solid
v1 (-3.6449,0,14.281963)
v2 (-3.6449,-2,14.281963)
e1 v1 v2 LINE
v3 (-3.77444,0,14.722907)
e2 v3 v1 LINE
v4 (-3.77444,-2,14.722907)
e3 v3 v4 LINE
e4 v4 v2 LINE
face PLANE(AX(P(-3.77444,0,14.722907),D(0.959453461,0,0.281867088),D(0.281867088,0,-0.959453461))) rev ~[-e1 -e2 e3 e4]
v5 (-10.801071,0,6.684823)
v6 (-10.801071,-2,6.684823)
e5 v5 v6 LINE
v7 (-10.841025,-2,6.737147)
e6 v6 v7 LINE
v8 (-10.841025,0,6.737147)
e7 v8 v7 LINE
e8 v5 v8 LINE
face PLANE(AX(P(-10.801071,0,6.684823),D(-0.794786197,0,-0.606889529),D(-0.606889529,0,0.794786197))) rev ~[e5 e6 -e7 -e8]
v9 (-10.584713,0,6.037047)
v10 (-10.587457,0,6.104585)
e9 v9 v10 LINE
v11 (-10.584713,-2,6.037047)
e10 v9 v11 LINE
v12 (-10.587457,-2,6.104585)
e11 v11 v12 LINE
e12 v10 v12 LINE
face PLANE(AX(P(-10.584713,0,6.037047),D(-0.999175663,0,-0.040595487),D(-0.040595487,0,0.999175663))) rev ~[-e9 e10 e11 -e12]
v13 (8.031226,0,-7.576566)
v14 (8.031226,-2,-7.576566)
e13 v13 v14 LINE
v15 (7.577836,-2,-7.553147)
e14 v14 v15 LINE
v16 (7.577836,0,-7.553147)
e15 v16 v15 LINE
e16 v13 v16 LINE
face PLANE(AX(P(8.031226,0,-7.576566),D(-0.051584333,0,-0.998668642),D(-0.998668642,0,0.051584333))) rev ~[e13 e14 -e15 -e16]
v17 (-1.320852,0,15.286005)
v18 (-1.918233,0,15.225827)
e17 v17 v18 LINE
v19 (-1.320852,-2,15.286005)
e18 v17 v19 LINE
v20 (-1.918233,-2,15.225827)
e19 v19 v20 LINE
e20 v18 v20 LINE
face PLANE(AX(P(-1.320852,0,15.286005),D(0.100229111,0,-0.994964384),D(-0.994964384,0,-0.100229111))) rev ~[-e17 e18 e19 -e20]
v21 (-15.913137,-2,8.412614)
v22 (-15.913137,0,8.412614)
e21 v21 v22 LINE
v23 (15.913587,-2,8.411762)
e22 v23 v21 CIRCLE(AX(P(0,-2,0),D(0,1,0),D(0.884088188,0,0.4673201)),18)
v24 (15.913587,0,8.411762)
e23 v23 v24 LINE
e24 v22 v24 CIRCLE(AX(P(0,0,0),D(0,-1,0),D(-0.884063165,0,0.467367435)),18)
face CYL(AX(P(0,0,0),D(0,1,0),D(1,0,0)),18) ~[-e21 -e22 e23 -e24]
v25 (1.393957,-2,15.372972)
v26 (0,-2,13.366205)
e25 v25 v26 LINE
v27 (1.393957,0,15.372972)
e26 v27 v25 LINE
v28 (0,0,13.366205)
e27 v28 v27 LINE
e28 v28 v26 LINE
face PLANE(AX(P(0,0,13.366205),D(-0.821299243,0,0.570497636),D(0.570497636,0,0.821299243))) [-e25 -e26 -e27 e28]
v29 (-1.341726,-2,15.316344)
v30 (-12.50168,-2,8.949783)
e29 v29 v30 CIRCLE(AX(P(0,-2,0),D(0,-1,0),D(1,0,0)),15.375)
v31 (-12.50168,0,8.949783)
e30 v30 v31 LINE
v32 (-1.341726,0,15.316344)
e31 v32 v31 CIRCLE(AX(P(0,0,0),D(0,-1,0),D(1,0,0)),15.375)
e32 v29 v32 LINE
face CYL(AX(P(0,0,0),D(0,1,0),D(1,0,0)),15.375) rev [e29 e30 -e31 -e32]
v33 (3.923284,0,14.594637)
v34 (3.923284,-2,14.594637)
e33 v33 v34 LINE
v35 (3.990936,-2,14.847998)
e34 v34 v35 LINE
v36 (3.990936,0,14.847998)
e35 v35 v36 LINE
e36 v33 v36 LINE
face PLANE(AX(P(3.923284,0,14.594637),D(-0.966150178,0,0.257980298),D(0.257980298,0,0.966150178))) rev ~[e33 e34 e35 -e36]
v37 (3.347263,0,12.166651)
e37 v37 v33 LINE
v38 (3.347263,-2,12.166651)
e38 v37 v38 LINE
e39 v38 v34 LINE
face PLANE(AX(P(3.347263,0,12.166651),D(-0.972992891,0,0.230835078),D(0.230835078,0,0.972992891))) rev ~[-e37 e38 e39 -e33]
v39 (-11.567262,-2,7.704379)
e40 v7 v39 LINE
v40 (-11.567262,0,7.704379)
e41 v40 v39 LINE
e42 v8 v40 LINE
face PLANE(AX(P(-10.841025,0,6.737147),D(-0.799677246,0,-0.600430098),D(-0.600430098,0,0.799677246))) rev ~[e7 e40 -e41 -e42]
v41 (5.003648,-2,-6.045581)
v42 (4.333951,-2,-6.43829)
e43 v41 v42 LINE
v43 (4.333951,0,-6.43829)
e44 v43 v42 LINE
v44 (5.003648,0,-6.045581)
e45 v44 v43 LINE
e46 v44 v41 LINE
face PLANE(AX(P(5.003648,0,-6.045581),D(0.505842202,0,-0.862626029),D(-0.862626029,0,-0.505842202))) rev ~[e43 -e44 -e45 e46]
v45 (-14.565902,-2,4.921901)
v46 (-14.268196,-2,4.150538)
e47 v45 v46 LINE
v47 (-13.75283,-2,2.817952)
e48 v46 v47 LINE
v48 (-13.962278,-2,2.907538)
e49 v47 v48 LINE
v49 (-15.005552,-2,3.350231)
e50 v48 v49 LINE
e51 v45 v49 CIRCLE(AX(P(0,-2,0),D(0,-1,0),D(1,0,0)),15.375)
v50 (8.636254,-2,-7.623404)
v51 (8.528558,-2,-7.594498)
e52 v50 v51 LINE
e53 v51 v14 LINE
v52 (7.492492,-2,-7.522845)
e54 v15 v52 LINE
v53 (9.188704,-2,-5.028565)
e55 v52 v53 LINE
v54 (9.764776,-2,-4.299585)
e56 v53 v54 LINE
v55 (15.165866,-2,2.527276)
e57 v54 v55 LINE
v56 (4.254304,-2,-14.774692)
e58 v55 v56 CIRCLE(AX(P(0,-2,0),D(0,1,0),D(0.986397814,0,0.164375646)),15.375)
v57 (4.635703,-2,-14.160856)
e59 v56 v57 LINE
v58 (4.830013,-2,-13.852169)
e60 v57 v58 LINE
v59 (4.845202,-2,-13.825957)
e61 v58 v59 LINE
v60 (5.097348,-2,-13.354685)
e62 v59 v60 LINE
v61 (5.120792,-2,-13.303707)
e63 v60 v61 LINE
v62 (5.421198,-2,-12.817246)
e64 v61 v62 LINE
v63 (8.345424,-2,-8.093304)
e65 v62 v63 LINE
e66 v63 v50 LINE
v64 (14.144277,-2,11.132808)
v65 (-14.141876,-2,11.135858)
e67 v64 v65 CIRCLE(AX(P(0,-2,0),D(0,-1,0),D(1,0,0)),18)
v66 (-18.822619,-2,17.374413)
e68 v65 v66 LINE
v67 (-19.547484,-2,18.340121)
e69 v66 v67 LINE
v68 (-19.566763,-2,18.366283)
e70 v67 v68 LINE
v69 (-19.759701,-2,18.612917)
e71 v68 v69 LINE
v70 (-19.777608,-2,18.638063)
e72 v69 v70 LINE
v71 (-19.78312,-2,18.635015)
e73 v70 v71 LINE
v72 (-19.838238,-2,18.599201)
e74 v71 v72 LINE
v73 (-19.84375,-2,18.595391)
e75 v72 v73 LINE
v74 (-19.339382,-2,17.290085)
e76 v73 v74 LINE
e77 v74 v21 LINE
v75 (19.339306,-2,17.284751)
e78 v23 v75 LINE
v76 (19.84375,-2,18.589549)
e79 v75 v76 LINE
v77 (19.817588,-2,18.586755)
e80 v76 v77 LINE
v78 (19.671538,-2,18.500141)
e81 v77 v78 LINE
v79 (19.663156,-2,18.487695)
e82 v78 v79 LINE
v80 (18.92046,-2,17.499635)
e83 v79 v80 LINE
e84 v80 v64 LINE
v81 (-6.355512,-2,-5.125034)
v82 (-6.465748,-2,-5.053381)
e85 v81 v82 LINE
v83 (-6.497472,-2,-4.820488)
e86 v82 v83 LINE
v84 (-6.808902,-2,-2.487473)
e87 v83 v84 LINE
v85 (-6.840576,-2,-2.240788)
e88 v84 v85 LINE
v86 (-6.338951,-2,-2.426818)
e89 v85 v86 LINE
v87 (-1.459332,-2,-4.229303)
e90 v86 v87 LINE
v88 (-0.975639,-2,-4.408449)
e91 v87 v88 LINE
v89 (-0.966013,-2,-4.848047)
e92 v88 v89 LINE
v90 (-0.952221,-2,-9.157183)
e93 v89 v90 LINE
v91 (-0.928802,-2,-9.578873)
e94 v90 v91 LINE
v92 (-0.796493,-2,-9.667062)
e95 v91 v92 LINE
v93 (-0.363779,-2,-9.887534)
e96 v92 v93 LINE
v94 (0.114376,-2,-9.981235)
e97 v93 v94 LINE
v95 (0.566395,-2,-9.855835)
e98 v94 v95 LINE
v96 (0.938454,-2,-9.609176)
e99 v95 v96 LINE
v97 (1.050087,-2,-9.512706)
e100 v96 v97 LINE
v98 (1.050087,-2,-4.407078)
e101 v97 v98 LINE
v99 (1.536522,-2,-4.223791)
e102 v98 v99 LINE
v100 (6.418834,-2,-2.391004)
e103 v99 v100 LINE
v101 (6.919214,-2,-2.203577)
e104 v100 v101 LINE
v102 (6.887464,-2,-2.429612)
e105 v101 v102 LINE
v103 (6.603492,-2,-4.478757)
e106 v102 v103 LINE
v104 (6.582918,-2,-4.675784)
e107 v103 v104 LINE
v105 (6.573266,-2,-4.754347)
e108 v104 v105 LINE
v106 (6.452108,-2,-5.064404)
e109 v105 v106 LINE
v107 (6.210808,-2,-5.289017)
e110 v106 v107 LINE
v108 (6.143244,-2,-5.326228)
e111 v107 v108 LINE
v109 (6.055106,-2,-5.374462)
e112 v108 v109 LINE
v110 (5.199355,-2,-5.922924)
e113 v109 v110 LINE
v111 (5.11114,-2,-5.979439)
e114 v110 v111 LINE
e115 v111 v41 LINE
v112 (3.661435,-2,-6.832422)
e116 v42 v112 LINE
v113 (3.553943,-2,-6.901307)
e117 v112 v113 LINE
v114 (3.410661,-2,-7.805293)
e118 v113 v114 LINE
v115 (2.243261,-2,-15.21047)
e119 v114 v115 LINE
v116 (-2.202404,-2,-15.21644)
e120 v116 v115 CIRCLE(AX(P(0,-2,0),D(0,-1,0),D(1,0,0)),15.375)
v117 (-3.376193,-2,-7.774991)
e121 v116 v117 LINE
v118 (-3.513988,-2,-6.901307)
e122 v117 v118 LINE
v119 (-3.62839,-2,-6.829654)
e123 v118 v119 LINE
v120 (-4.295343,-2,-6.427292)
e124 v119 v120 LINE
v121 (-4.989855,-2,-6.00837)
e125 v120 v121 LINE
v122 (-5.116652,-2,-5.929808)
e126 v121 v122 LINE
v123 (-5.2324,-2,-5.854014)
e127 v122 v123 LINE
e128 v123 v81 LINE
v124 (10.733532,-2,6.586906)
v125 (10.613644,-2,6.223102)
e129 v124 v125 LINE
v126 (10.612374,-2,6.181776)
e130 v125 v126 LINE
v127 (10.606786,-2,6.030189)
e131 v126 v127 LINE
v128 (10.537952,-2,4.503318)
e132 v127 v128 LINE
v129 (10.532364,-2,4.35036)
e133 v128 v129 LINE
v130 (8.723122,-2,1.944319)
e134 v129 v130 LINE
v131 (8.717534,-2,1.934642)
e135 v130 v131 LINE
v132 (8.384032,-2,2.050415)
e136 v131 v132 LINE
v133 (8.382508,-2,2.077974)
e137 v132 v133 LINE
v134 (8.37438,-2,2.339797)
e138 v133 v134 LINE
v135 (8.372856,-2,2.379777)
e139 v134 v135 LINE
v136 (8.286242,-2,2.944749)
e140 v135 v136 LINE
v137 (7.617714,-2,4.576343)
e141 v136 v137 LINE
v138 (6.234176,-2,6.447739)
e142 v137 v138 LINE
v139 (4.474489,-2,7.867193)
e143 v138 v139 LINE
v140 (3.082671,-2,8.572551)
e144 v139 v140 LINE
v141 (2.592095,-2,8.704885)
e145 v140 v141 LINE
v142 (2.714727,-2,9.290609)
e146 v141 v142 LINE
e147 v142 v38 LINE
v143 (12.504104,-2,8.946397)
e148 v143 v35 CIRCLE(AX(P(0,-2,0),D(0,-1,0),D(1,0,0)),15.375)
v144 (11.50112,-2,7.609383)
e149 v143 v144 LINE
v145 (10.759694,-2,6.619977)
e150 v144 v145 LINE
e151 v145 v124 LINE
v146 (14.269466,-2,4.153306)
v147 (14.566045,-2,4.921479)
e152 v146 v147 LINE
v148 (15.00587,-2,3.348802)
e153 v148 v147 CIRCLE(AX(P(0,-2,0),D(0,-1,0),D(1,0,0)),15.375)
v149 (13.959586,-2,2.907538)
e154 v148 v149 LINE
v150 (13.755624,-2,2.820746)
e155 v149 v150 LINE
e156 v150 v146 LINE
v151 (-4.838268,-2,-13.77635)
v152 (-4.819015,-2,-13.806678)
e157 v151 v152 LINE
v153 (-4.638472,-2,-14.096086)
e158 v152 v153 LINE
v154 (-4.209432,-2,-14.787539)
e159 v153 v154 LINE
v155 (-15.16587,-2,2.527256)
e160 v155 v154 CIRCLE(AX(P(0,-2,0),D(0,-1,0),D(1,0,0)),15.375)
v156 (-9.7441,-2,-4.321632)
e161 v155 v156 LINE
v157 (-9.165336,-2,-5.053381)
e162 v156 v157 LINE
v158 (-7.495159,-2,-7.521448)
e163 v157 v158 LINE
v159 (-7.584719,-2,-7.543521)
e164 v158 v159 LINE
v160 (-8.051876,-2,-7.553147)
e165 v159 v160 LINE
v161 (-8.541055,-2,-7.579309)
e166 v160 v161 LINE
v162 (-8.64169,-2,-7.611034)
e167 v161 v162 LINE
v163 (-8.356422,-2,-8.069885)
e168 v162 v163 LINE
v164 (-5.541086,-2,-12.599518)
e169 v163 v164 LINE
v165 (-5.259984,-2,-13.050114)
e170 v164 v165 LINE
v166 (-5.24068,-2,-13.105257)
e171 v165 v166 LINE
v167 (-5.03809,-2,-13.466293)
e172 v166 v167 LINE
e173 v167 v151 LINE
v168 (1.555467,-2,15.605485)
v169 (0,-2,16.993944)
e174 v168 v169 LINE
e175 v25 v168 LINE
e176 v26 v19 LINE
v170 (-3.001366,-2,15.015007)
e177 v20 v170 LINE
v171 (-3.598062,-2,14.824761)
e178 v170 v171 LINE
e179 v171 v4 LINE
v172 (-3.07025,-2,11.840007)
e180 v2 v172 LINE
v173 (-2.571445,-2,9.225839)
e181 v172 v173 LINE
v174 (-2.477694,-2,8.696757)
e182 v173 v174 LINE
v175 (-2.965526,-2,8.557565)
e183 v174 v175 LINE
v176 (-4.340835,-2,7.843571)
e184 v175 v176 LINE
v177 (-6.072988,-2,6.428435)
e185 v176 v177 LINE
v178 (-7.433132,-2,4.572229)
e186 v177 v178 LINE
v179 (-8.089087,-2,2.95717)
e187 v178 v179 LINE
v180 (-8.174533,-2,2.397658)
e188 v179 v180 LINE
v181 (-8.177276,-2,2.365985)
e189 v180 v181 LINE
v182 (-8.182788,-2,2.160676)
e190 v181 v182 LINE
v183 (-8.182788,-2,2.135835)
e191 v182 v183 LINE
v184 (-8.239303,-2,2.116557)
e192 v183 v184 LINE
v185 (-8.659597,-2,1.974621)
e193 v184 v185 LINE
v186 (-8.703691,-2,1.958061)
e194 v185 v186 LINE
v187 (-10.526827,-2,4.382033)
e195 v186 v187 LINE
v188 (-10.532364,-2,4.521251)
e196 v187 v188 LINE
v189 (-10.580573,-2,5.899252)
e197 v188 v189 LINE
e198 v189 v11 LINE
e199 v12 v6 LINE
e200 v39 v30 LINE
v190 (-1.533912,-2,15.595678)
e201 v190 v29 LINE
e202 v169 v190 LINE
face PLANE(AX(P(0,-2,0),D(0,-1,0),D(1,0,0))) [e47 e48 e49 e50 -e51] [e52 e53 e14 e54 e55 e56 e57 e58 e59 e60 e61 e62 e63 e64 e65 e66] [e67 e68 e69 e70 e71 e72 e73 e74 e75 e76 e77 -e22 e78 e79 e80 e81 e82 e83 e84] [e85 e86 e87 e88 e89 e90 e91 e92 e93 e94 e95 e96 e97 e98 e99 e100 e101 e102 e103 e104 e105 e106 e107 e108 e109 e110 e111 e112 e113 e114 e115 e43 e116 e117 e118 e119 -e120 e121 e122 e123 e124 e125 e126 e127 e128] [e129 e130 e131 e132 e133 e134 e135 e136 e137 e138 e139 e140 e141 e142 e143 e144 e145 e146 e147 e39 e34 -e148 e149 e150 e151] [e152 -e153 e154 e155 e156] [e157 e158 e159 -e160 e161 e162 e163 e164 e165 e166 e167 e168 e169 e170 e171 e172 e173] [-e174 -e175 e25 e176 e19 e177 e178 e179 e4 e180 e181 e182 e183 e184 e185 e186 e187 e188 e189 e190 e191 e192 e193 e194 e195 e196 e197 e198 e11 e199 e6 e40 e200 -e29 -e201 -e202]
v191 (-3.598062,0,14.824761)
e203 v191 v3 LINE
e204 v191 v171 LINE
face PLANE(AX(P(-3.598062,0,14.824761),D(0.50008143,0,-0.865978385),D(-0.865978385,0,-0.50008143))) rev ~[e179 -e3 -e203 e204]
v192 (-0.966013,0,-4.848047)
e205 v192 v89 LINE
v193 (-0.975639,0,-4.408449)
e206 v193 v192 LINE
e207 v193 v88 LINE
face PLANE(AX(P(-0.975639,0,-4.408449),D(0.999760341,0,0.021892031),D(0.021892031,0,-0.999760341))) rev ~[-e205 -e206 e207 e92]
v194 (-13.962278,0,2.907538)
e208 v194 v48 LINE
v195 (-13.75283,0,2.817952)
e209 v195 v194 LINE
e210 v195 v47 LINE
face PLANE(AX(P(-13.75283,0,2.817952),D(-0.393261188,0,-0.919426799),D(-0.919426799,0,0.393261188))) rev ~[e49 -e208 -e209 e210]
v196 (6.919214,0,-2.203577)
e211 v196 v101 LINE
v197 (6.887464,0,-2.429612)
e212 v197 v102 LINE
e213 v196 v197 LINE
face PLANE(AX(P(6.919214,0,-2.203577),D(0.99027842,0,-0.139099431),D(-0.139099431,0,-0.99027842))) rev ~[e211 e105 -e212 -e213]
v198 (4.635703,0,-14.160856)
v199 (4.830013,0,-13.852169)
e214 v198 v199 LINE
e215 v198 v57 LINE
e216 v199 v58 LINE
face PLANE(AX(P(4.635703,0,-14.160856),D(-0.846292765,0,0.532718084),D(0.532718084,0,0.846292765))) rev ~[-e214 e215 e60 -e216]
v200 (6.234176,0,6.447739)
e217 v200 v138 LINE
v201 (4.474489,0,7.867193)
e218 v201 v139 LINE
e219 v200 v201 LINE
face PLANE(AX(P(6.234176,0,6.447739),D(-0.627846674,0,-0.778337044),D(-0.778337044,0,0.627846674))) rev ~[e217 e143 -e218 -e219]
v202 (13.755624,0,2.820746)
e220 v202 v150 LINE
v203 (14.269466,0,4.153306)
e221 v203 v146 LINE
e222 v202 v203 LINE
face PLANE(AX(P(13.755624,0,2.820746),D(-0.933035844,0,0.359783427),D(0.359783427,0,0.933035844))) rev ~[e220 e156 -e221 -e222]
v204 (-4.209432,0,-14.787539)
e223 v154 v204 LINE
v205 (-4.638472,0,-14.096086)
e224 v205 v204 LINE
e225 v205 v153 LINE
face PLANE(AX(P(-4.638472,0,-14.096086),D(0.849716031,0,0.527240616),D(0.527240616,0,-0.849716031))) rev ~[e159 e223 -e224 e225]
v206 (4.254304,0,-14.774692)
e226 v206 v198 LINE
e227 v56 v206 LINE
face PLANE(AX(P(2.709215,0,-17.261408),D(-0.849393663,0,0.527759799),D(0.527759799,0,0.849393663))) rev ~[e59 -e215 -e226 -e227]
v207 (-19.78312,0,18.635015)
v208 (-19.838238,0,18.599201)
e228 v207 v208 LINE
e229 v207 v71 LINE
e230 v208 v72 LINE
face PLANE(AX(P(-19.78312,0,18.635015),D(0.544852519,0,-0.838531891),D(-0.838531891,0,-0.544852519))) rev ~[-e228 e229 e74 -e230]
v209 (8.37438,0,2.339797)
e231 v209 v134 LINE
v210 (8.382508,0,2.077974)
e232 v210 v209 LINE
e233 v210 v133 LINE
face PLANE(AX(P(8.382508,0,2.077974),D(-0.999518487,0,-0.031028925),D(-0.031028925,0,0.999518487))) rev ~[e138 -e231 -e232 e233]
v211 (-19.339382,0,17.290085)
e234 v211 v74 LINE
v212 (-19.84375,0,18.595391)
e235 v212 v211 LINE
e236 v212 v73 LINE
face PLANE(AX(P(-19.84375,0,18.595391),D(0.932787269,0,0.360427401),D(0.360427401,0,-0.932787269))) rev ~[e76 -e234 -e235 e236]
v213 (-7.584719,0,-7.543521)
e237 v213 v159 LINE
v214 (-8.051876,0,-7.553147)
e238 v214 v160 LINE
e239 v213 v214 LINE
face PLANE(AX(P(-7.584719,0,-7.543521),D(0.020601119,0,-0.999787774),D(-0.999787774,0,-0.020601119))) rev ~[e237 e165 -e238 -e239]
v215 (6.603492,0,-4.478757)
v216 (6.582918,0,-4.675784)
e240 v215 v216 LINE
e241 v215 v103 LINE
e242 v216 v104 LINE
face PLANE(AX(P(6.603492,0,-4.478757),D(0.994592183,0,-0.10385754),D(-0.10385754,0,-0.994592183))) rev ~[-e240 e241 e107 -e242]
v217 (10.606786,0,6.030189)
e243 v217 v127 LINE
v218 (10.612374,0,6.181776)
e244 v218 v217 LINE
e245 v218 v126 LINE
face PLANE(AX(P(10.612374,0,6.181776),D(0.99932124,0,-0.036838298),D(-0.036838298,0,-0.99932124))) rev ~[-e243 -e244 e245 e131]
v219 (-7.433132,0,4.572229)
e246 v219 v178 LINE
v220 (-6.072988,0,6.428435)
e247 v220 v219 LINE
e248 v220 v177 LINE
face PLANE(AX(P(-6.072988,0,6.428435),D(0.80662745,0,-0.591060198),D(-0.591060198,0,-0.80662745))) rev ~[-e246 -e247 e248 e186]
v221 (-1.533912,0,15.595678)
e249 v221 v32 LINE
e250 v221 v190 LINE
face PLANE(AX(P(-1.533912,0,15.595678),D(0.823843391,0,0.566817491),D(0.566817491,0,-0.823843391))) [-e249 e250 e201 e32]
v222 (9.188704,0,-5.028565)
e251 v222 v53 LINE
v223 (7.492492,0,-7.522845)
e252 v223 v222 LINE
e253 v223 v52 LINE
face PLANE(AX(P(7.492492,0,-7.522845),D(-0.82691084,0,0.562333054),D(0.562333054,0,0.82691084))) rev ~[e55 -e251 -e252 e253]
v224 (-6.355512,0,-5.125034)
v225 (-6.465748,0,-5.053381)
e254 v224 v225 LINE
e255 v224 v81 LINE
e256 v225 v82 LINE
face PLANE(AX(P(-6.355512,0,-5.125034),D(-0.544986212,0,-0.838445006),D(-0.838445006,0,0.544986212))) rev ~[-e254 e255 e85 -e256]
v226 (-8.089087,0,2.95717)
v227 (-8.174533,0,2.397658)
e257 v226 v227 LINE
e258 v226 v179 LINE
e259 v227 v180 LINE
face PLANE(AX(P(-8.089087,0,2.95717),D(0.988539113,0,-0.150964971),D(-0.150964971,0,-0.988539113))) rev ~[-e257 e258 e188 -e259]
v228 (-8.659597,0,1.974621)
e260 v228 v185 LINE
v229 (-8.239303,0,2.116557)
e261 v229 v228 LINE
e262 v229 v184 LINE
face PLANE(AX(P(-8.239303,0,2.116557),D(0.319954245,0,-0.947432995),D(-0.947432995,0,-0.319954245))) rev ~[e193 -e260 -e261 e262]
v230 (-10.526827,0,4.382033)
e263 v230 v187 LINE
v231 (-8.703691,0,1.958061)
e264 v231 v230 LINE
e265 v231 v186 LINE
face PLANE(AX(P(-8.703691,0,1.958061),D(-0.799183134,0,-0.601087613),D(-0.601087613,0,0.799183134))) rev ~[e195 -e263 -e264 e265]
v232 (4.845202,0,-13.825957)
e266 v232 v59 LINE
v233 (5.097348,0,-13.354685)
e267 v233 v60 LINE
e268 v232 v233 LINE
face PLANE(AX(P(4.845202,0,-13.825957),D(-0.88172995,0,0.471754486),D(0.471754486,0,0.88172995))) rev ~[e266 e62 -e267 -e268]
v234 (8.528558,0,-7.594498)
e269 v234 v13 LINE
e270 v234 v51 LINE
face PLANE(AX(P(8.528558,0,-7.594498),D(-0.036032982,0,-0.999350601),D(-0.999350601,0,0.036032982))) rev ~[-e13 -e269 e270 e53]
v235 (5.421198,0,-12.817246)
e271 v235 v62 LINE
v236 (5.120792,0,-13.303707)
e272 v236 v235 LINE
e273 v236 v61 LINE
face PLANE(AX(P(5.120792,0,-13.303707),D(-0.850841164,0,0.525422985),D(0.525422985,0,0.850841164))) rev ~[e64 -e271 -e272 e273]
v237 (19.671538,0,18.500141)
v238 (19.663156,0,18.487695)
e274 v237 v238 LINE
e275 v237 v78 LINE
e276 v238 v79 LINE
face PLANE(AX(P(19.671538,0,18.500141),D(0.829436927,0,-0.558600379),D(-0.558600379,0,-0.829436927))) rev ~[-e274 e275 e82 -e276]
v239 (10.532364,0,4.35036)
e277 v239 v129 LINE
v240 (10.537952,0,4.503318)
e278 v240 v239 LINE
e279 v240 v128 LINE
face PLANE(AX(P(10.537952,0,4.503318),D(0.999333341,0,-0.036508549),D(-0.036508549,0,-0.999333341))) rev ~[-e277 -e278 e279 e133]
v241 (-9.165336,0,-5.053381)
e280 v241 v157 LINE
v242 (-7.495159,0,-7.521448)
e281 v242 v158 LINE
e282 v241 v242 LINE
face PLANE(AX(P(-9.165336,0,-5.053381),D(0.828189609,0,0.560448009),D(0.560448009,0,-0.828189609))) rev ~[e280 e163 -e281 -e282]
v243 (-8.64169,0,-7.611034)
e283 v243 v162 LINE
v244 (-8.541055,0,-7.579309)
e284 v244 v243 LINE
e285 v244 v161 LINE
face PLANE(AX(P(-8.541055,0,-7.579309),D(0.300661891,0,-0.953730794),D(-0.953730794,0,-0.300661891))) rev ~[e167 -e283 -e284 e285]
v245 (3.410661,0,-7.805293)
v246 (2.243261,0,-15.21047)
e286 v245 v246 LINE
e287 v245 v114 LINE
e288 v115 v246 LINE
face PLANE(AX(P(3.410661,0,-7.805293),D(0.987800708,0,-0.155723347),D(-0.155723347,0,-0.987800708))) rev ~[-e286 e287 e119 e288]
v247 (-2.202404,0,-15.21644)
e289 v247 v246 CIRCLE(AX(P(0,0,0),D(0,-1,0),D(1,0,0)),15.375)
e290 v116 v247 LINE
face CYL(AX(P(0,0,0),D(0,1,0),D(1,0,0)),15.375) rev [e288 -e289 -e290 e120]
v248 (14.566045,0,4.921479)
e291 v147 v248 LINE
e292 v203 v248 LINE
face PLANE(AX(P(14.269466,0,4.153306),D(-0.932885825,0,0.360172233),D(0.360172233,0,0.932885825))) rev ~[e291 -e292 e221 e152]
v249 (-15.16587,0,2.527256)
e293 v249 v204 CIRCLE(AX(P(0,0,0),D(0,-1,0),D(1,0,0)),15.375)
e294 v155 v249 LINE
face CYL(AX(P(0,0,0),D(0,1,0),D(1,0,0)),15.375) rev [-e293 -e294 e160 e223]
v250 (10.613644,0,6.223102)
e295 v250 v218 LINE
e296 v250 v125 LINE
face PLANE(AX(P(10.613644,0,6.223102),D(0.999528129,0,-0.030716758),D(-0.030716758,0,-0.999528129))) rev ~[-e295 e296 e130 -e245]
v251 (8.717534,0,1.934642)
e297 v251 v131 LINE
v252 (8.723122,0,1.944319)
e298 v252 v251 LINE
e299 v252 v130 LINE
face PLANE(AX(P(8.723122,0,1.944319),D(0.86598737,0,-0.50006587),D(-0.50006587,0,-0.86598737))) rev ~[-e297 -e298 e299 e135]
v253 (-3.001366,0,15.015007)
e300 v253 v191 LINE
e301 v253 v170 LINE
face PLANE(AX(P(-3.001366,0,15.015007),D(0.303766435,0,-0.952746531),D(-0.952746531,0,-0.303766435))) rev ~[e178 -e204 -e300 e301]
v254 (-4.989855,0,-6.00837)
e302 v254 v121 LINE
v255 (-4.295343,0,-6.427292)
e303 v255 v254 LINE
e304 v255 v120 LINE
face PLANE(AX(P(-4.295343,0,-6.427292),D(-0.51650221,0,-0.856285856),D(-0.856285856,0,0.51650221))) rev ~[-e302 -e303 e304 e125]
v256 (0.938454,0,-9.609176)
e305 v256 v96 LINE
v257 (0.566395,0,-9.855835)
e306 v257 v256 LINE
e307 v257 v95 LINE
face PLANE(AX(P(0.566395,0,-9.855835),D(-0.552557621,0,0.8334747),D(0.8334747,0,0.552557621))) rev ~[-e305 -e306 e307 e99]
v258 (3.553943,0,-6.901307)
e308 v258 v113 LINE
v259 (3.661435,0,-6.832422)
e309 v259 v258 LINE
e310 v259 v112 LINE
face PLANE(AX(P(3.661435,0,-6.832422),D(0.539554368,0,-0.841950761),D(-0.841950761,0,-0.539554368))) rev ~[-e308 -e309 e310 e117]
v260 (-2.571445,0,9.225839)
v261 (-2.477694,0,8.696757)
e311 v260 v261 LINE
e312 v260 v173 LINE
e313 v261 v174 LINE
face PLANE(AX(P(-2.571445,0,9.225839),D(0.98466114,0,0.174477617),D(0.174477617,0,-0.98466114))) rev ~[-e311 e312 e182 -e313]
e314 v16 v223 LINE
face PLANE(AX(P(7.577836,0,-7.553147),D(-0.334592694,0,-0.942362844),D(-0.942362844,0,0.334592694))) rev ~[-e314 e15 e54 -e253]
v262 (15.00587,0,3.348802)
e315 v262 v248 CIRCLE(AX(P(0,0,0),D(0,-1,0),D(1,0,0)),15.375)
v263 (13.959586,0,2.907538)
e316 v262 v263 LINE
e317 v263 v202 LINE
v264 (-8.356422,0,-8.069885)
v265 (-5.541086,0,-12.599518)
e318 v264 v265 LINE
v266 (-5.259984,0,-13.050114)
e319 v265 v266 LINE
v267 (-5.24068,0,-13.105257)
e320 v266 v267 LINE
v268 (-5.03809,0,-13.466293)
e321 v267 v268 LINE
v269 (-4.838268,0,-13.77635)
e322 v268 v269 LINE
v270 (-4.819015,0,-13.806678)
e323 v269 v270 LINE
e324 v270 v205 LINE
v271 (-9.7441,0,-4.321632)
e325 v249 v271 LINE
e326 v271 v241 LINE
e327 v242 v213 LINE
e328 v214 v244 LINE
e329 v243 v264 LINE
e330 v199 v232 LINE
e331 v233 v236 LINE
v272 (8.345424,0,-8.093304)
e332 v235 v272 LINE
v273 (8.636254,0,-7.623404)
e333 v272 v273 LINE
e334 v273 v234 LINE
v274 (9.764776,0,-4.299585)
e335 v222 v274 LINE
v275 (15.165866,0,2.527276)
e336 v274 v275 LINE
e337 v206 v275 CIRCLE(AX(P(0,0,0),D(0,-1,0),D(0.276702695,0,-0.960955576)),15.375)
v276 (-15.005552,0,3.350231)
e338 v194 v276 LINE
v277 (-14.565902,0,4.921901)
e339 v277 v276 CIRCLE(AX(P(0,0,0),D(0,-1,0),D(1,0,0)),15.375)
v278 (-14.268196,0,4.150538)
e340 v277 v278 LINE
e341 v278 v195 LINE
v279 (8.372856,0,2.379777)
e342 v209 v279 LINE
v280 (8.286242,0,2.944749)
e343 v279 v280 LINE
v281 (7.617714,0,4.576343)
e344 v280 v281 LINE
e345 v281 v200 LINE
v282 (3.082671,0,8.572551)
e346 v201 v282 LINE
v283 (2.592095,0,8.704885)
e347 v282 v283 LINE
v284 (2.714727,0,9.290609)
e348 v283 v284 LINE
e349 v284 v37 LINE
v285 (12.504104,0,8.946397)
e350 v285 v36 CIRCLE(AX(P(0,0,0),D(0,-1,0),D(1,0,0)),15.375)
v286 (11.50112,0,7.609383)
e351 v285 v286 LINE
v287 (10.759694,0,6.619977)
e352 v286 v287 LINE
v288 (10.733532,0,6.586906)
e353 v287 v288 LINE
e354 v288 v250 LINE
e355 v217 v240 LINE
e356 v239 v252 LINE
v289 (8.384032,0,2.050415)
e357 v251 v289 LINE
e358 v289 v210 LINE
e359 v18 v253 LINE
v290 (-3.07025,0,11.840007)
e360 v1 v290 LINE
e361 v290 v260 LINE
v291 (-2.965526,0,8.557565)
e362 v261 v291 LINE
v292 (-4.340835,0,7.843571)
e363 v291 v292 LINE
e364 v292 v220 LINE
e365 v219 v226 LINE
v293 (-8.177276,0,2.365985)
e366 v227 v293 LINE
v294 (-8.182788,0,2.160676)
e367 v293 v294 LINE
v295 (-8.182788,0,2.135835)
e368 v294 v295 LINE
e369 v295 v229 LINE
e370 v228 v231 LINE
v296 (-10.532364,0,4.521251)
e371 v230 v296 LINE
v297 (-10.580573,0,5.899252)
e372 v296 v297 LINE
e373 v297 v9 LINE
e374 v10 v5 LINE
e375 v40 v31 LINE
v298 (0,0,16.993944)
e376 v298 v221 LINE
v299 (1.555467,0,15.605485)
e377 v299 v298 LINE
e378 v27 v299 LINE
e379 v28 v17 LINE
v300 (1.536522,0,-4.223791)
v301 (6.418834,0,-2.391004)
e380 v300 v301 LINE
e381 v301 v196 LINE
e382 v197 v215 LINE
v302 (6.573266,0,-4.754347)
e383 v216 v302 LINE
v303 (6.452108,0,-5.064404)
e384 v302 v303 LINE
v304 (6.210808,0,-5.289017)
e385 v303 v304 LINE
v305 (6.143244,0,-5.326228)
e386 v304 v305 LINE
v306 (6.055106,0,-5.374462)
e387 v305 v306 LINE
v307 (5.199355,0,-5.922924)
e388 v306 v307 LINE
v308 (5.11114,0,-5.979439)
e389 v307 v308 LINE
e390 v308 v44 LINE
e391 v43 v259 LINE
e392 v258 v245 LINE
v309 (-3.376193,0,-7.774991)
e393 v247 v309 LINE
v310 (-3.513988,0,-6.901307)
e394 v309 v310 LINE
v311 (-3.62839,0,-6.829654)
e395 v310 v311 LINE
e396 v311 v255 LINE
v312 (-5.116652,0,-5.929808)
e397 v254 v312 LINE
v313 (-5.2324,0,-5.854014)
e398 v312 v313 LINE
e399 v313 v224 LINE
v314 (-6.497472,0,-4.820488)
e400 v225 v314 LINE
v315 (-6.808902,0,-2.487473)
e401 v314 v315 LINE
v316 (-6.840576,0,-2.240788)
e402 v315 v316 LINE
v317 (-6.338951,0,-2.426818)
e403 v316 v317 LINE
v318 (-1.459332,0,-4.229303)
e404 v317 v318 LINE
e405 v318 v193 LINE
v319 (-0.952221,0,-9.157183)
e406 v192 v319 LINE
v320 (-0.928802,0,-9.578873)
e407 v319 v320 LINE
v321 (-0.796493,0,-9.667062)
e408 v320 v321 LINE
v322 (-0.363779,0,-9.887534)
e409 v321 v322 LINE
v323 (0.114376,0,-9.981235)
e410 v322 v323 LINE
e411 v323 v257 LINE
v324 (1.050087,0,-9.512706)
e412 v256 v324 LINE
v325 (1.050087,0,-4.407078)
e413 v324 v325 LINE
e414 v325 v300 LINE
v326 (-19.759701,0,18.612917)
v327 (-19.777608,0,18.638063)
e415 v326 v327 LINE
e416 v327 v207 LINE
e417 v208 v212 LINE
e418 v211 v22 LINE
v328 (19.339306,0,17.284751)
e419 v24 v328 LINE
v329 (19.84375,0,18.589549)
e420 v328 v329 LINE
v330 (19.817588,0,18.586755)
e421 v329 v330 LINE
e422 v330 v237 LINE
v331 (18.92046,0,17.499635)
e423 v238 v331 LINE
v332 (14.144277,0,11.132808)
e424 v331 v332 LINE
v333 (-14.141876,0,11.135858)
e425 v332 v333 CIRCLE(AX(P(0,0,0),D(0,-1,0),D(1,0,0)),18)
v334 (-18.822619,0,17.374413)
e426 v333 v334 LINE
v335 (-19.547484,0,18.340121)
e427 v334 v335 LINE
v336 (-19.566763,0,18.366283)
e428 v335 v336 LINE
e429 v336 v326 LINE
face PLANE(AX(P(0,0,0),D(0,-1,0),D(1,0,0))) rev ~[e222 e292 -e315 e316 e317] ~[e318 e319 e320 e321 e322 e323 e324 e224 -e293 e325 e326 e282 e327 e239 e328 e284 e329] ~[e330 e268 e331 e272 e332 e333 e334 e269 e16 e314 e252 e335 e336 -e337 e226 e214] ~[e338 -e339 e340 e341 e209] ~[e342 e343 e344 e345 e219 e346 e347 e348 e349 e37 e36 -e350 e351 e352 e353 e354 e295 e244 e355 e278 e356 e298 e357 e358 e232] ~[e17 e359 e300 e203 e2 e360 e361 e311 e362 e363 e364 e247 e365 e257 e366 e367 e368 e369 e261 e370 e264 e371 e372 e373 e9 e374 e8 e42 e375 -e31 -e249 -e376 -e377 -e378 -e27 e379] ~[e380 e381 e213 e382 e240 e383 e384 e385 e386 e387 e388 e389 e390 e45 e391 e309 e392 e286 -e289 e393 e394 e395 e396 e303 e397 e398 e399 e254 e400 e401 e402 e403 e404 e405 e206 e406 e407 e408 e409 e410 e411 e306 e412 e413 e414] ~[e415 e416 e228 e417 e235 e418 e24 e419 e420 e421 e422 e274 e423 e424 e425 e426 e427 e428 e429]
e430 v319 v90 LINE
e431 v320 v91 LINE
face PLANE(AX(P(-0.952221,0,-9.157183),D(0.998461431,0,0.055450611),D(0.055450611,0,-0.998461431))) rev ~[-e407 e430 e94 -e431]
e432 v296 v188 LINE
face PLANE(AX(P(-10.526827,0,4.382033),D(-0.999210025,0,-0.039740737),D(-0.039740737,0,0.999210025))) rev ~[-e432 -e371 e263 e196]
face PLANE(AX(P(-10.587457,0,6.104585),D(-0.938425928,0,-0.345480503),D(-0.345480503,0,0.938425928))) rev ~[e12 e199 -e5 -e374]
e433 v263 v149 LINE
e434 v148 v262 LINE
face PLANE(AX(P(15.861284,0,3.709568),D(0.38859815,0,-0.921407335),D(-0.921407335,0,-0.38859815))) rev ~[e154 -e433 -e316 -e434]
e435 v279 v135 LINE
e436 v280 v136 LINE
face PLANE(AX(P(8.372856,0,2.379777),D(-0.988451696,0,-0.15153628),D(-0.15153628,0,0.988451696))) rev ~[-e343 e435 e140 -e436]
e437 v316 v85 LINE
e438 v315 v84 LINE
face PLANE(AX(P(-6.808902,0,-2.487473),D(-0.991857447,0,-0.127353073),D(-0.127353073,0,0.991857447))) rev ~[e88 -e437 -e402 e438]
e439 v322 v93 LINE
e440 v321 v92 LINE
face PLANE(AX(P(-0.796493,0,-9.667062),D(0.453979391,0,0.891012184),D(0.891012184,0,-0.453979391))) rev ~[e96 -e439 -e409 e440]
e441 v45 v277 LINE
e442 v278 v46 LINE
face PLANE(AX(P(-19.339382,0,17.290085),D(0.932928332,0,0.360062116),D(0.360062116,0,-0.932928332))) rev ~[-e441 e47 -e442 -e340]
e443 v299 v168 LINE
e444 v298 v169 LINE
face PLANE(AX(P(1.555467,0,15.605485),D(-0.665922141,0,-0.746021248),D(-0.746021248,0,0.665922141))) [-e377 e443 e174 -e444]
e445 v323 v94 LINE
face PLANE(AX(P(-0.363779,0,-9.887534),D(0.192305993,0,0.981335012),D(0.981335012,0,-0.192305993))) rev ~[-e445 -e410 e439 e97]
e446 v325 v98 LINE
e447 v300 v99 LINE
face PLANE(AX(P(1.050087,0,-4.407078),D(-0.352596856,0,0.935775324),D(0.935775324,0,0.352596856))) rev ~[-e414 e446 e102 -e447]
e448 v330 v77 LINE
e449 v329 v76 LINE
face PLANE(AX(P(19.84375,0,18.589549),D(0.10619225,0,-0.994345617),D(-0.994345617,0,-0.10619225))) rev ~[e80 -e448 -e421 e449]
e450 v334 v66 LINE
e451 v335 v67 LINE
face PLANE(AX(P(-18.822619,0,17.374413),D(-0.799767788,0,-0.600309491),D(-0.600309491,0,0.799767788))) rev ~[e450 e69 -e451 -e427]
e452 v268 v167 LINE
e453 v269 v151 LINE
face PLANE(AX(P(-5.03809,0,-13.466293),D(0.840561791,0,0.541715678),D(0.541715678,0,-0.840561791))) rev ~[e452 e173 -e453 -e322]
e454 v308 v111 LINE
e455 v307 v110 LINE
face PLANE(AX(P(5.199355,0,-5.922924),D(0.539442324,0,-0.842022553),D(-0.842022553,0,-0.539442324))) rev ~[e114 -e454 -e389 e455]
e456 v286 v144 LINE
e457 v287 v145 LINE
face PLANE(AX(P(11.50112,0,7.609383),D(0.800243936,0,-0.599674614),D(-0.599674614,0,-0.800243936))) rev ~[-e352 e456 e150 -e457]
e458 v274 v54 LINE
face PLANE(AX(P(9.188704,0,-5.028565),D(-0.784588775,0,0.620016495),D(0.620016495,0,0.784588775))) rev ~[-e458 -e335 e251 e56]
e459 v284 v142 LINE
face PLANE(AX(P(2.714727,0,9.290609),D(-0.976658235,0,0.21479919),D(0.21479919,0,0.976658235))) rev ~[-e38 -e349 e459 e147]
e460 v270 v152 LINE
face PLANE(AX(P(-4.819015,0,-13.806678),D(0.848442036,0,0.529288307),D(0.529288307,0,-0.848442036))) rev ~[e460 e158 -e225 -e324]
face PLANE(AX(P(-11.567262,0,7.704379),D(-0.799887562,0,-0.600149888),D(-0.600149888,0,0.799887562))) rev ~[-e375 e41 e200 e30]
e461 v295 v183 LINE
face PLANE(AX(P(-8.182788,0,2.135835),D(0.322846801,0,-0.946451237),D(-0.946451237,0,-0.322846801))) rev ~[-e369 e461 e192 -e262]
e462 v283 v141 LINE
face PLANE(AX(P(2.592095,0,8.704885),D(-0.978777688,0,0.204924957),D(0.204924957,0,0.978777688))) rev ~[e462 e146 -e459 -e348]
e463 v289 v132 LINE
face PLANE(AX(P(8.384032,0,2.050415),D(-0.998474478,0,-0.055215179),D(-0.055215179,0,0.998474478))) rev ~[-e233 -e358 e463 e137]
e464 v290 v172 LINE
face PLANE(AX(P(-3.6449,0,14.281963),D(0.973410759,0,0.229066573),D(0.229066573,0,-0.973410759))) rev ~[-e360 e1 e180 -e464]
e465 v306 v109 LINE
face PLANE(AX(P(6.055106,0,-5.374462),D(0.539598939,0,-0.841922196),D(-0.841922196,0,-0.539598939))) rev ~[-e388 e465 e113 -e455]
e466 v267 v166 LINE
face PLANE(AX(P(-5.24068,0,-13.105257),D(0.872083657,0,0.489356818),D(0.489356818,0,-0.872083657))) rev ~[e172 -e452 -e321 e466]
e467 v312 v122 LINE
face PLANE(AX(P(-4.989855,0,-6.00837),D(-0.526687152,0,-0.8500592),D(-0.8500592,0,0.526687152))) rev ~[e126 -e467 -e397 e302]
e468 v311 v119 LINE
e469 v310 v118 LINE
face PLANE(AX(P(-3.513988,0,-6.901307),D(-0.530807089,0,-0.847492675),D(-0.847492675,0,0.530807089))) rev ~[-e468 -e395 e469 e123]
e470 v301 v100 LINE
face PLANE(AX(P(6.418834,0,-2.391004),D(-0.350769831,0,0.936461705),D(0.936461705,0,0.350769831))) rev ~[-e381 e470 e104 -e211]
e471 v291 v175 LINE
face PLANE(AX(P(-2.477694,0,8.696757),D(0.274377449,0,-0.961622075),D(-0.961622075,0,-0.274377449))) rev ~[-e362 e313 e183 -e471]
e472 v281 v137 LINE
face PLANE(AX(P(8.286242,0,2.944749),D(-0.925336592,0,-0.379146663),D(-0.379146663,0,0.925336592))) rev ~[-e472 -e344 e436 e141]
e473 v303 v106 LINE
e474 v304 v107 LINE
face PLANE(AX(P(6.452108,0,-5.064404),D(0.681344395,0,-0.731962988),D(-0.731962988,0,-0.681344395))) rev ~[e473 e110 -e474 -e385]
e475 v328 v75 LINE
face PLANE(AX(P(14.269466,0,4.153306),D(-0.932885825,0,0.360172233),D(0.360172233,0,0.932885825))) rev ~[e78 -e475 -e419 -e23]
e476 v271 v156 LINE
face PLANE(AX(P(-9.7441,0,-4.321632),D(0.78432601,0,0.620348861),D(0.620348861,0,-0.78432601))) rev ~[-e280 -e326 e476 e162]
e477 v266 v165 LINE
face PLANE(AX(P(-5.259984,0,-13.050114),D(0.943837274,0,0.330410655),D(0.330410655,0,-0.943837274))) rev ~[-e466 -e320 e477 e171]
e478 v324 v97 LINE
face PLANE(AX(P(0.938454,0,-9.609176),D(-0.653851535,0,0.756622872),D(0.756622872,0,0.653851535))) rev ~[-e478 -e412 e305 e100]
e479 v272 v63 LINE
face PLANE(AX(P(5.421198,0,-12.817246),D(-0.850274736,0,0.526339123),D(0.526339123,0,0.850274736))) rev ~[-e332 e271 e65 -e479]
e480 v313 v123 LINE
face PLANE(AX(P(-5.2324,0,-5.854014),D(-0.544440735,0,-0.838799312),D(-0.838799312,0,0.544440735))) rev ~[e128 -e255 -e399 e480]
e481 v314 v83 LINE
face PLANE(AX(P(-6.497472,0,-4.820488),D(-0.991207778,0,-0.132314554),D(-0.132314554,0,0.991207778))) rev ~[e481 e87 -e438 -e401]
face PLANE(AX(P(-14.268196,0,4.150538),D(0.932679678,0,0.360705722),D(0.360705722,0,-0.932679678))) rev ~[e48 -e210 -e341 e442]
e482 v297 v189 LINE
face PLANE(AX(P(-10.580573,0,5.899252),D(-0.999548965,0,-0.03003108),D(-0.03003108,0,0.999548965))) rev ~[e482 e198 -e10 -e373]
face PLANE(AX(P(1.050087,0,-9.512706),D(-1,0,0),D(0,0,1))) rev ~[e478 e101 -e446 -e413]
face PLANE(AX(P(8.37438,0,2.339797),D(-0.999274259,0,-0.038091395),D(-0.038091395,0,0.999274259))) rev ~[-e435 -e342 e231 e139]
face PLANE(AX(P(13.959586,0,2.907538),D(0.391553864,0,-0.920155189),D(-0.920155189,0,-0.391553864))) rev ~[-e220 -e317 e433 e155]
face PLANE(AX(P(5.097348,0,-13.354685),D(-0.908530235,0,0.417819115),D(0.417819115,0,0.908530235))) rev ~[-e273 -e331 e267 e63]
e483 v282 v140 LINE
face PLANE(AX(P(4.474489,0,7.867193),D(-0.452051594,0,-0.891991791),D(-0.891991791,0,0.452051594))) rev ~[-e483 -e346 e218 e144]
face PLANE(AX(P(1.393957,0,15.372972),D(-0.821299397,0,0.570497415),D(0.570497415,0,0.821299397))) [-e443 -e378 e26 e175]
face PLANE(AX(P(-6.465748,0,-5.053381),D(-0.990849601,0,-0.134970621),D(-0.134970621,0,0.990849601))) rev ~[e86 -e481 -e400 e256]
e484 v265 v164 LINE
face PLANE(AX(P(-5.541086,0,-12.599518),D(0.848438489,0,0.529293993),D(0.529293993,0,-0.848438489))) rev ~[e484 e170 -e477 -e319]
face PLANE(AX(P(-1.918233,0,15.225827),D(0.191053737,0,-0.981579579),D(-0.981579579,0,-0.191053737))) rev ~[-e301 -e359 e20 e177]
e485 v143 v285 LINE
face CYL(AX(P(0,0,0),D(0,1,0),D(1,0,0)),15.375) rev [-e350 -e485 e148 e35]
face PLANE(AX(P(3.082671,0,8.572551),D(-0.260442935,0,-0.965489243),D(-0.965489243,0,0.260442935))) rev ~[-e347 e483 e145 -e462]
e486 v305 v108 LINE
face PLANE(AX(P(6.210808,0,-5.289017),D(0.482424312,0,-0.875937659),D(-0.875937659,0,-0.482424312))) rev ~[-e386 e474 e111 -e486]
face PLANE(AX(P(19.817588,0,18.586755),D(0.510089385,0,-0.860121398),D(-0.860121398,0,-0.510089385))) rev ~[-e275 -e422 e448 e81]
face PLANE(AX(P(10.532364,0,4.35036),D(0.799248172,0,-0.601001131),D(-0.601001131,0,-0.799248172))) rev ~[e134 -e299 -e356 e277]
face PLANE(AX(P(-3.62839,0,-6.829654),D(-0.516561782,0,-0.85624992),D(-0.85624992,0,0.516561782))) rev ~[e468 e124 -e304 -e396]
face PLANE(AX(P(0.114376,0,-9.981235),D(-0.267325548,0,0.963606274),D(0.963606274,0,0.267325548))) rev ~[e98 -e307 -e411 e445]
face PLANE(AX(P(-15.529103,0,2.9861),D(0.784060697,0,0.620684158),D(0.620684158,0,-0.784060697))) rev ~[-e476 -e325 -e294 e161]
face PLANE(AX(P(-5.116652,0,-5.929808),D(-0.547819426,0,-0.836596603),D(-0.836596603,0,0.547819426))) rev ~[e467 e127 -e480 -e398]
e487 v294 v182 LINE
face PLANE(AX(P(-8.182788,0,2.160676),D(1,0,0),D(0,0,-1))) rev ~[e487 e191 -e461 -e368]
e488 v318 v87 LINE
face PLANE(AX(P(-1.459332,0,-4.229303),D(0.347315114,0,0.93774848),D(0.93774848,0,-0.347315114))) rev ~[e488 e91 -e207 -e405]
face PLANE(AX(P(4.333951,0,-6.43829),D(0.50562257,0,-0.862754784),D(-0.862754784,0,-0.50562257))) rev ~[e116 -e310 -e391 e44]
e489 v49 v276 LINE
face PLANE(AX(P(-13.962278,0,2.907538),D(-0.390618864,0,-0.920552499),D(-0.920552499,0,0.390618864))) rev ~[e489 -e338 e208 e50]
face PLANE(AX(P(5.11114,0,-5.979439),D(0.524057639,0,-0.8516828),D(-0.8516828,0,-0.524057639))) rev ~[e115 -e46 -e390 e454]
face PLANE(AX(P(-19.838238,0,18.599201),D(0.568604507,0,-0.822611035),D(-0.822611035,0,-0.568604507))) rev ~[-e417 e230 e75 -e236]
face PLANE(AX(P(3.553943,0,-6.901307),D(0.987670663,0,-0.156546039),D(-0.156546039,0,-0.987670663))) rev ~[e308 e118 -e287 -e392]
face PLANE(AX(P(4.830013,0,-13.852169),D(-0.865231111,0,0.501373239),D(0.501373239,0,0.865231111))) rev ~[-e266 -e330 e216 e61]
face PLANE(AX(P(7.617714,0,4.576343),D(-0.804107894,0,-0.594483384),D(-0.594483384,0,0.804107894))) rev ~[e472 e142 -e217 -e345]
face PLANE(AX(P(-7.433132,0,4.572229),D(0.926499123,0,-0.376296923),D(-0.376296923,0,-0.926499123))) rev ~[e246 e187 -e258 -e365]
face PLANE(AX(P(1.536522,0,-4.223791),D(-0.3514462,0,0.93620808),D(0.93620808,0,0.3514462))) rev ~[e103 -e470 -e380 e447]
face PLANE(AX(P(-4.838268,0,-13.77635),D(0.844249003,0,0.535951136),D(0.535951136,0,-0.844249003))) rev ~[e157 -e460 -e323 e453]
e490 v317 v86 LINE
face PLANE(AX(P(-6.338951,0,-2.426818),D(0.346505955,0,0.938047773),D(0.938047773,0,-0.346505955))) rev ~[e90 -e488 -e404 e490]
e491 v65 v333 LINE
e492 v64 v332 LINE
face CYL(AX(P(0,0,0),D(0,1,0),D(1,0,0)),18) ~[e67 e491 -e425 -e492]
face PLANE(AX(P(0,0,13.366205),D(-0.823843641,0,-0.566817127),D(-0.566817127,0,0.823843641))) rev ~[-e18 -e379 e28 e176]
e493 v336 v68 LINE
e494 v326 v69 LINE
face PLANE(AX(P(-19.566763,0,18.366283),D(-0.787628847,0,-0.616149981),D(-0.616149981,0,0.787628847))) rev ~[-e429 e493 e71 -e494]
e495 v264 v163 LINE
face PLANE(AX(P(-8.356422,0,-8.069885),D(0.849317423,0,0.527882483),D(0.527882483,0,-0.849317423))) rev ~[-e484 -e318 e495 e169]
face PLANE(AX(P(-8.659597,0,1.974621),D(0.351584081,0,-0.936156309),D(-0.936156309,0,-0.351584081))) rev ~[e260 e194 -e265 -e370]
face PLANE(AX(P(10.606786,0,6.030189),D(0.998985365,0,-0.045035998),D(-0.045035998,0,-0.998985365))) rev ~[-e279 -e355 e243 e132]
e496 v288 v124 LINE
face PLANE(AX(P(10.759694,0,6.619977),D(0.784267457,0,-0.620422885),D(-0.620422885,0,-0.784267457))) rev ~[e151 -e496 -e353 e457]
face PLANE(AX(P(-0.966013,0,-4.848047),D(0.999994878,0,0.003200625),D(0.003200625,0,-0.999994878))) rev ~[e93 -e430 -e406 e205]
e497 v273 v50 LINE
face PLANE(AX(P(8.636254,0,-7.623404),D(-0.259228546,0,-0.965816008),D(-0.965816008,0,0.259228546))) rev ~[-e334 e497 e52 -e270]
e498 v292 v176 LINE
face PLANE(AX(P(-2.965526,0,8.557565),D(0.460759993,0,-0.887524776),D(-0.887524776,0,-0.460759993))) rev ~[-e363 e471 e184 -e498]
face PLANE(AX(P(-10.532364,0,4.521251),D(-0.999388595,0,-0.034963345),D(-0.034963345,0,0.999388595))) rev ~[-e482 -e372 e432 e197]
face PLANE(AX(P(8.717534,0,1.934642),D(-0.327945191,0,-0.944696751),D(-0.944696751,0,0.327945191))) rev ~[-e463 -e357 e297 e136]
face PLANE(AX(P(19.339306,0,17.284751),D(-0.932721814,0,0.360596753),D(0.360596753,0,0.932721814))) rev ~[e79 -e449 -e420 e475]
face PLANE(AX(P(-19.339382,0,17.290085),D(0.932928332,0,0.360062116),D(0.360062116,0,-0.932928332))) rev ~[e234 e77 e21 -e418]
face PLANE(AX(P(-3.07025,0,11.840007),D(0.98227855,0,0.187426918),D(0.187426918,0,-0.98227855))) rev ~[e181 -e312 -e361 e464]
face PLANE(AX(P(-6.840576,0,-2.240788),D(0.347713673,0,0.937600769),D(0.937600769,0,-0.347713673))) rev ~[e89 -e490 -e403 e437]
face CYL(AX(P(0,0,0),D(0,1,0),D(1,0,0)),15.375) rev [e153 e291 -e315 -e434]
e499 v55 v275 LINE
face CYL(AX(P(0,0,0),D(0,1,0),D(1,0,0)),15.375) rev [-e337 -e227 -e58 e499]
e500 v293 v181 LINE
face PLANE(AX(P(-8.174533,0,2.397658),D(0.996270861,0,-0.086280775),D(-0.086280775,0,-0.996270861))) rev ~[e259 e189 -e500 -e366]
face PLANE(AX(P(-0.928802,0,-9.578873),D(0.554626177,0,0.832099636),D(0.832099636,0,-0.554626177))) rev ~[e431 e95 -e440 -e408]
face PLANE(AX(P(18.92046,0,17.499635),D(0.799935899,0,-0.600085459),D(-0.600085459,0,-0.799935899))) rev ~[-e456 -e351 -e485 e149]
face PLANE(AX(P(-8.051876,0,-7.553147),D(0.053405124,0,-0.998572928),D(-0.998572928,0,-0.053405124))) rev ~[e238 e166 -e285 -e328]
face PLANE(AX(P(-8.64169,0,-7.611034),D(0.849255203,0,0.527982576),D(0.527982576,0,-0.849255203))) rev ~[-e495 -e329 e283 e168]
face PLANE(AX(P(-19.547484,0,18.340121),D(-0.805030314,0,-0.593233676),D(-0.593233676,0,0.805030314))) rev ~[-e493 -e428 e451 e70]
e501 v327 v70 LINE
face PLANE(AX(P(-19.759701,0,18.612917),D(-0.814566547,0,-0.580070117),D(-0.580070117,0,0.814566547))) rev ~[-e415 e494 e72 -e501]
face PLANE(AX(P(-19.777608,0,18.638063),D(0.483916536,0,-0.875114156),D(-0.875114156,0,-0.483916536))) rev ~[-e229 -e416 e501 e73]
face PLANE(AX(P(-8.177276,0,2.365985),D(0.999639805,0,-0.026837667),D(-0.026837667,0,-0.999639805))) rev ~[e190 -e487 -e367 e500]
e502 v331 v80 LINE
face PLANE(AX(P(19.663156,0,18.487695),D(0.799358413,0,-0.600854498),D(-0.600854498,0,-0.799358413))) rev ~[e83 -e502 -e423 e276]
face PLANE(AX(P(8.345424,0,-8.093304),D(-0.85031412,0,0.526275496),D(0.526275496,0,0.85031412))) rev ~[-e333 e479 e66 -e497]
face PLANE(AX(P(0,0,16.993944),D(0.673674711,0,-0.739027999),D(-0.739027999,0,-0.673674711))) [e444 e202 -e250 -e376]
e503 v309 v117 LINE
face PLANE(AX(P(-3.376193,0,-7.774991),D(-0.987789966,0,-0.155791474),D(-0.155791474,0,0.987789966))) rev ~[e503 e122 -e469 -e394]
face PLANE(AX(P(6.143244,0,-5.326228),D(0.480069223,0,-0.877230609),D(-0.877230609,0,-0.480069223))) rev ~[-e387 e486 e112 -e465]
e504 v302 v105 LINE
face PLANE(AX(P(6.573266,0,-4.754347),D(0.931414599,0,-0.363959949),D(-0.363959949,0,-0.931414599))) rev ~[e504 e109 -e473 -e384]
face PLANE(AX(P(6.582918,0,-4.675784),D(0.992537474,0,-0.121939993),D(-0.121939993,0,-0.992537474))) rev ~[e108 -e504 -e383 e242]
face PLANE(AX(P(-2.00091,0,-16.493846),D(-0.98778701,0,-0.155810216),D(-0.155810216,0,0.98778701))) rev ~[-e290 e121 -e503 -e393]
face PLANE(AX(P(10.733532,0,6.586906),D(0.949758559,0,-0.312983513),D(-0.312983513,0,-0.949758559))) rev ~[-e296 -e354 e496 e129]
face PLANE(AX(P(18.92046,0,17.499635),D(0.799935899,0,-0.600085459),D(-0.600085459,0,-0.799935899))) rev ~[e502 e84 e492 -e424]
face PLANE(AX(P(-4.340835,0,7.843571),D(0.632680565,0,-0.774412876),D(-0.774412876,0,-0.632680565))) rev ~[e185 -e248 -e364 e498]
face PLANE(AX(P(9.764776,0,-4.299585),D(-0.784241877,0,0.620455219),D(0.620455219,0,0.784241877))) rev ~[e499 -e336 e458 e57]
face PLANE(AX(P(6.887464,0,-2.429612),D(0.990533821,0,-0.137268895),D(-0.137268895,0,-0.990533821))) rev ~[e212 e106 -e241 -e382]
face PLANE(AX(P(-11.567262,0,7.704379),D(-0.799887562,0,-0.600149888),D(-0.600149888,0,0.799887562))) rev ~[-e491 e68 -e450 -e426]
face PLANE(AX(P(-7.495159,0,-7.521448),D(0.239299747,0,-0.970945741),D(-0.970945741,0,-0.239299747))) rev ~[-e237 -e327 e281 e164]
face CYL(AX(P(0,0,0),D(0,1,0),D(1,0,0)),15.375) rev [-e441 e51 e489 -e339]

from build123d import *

# Parameters (mm, degrees)
F1_R     = 18
F1_R_2   = 15.375
F2_DEPTH = 2
F3_DEPTH = 2


with BuildPart() as f2:
    # F0 (on Front) + F1 (on Front) → F2 (new body)
    with BuildSketch(Plane.XZ):
        Polygon((-19.759701, 18.612917), (-19.777608, 18.638063), (-19.78312, 18.635015), (-19.838238, 18.599201), (-19.84375, 18.595391), (-19.339382, 17.290085), (-14.268196, 4.150538), (-13.75283, 2.817952), (-13.962278, 2.907538), (-15.865373, 3.71508), (-16.047263, 3.792271), (-16.052775, 3.786734), (-16.102355, 3.723335), (-16.106496, 3.716452), (-15.529103, 2.9861), (-9.7441, -4.321632), (-9.165336, -5.053381), (-7.495159, -7.521448), (-7.584719, -7.543521), (-8.051876, -7.553147), (-8.541055, -7.579309), (-8.64169, -7.611034), (-8.356422, -8.069885), (-5.541086, -12.599518), (-5.259984, -13.050114), (-5.24068, -13.105257), (-5.03809, -13.466293), (-4.838268, -13.77635), (-4.819015, -13.806678), (-4.638472, -14.096086), (-2.836012, -17.000982), (-2.655468, -17.291736), (-1.86309, -17.366158), (-2.00091, -16.493846), (-3.376193, -7.774991), (-3.513988, -6.901307), (-3.62839, -6.829654), (-4.295343, -6.427292), (-4.989855, -6.00837), (-5.116652, -5.929808), (-5.2324, -5.854014), (-6.355512, -5.125034), (-6.465748, -5.053381), (-6.497472, -4.820488), (-6.808902, -2.487473), (-6.840576, -2.240788), (-6.338951, -2.426818), (-1.459332, -4.229303), (-0.975639, -4.408449), (-0.966013, -4.848047), (-0.952221, -9.157183), (-0.928802, -9.578873), (-0.796493, -9.667062), (-0.363779, -9.887534), (0.114376, -9.981235), (0.566395, -9.855835), (0.938454, -9.609176), (1.050087, -9.512706), (1.050087, -4.407078), (1.536522, -4.223791), (6.418834, -2.391004), (6.919214, -2.203577), (6.887464, -2.429612), (6.603492, -4.478757), (6.582918, -4.675784), (6.573266, -4.754347), (6.452108, -5.064404), (6.210808, -5.289017), (6.143244, -5.326228), (6.055106, -5.374462), (5.199355, -5.922924), (5.11114, -5.979439), (5.003648, -6.045581), (4.333951, -6.43829), (3.661435, -6.832422), (3.553943, -6.901307), (3.410661, -7.805293), (1.989887, -16.817696), (1.847952, -17.717541), (2.517673, -17.571466), (2.709215, -17.261408), (4.635703, -14.160856), (4.830013, -13.852169), (4.845202, -13.825957), (5.097348, -13.354685), (5.120792, -13.303707), (5.421198, -12.817246), (8.345424, -8.093304), (8.636254, -7.623404), (8.528558, -7.594498), (8.031226, -7.576566), (7.577836, -7.553147), (7.492492, -7.522845), (9.188704, -5.028565), (9.764776, -4.299585), (15.527782, 2.984729), (16.105124, 3.712337), (16.09979, 3.719195), (16.050006, 3.781222), (16.045688, 3.786734), (15.861284, 3.709568), (13.959586, 2.907538), (13.755624, 2.820746), (14.269466, 4.153306), (19.339306, 17.284751), (19.84375, 18.589549), (19.817588, 18.586755), (19.671538, 18.500141), (19.663156, 18.487695), (18.92046, 17.499635), (11.50112, 7.609383), (10.759694, 6.619977), (10.733532, 6.586906), (10.613644, 6.223102), (10.612374, 6.181776), (10.606786, 6.030189), (10.537952, 4.503318), (10.532364, 4.35036), (8.723122, 1.944319), (8.717534, 1.934642), (8.384032, 2.050415), (8.382508, 2.077974), (8.37438, 2.339797), (8.372856, 2.379777), (8.286242, 2.944749), (7.617714, 4.576343), (6.234176, 6.447739), (4.474489, 7.867193), (3.082671, 8.572551), (2.592095, 8.704885), (2.714727, 9.290609), (3.347263, 12.166651), (3.923284, 14.594637), (4.019728, 14.955825), (3.862629, 15.030247), (2.64447, 15.287803), (1.393957, 15.372972), (0, 13.366205), (-1.320852, 15.286005), (-1.918233, 15.225827), (-3.001366, 15.015007), (-3.598062, 14.824761), (-3.77444, 14.722907), (-3.6449, 14.281963), (-3.07025, 11.840007), (-2.571445, 9.225839), (-2.477694, 8.696757), (-2.965526, 8.557565), (-4.340835, 7.843571), (-6.072988, 6.428435), (-7.433132, 4.572229), (-8.089087, 2.95717), (-8.174533, 2.397658), (-8.177276, 2.365985), (-8.182788, 2.160676), (-8.182788, 2.135835), (-8.239303, 2.116557), (-8.659597, 1.974621), (-8.703691, 1.958061), (-10.526827, 4.382033), (-10.532364, 4.521251), (-10.580573, 5.899252), (-10.584713, 6.037047), (-10.587457, 6.104585), (-10.801071, 6.684823), (-10.841025, 6.737147), (-11.567262, 7.704379), (-18.822619, 17.374413), (-19.547484, 18.340121), (-19.566763, 18.366283), align=None)
    with BuildSketch(Plane.XZ):
        Circle(F1_R)
        Circle(F1_R_2, mode=Mode.SUBTRACT)
    extrude(amount=F2_DEPTH)


with BuildPart() as f3:
    # F0 (on Front) → F3 (new body)
    with BuildSketch(Plane.XZ):
        Polygon((-0.644906, 15.354097), (-1.320852, 15.286005), (0, 13.366205), (1.393957, 15.372972), (1.04455, 15.396769), (0.698678, 15.396769), (0.362407, 15.396769), align=None)
        Polygon((-1.533912, 15.595678), (-1.320852, 15.286005), (-0.644906, 15.354097), (0.362407, 15.396769), (0.698678, 15.396769), (1.04455, 15.396769), (1.393957, 15.372972), (1.555467, 15.605485), (0, 16.993944), align=None)
    extrude(amount=F3_DEPTH)


with BuildPart() as f2_1:
    add(f2.part)

    # F4: cut F3
    add(f3.part, mode=Mode.SUBTRACT)


solid = f2_1.part
